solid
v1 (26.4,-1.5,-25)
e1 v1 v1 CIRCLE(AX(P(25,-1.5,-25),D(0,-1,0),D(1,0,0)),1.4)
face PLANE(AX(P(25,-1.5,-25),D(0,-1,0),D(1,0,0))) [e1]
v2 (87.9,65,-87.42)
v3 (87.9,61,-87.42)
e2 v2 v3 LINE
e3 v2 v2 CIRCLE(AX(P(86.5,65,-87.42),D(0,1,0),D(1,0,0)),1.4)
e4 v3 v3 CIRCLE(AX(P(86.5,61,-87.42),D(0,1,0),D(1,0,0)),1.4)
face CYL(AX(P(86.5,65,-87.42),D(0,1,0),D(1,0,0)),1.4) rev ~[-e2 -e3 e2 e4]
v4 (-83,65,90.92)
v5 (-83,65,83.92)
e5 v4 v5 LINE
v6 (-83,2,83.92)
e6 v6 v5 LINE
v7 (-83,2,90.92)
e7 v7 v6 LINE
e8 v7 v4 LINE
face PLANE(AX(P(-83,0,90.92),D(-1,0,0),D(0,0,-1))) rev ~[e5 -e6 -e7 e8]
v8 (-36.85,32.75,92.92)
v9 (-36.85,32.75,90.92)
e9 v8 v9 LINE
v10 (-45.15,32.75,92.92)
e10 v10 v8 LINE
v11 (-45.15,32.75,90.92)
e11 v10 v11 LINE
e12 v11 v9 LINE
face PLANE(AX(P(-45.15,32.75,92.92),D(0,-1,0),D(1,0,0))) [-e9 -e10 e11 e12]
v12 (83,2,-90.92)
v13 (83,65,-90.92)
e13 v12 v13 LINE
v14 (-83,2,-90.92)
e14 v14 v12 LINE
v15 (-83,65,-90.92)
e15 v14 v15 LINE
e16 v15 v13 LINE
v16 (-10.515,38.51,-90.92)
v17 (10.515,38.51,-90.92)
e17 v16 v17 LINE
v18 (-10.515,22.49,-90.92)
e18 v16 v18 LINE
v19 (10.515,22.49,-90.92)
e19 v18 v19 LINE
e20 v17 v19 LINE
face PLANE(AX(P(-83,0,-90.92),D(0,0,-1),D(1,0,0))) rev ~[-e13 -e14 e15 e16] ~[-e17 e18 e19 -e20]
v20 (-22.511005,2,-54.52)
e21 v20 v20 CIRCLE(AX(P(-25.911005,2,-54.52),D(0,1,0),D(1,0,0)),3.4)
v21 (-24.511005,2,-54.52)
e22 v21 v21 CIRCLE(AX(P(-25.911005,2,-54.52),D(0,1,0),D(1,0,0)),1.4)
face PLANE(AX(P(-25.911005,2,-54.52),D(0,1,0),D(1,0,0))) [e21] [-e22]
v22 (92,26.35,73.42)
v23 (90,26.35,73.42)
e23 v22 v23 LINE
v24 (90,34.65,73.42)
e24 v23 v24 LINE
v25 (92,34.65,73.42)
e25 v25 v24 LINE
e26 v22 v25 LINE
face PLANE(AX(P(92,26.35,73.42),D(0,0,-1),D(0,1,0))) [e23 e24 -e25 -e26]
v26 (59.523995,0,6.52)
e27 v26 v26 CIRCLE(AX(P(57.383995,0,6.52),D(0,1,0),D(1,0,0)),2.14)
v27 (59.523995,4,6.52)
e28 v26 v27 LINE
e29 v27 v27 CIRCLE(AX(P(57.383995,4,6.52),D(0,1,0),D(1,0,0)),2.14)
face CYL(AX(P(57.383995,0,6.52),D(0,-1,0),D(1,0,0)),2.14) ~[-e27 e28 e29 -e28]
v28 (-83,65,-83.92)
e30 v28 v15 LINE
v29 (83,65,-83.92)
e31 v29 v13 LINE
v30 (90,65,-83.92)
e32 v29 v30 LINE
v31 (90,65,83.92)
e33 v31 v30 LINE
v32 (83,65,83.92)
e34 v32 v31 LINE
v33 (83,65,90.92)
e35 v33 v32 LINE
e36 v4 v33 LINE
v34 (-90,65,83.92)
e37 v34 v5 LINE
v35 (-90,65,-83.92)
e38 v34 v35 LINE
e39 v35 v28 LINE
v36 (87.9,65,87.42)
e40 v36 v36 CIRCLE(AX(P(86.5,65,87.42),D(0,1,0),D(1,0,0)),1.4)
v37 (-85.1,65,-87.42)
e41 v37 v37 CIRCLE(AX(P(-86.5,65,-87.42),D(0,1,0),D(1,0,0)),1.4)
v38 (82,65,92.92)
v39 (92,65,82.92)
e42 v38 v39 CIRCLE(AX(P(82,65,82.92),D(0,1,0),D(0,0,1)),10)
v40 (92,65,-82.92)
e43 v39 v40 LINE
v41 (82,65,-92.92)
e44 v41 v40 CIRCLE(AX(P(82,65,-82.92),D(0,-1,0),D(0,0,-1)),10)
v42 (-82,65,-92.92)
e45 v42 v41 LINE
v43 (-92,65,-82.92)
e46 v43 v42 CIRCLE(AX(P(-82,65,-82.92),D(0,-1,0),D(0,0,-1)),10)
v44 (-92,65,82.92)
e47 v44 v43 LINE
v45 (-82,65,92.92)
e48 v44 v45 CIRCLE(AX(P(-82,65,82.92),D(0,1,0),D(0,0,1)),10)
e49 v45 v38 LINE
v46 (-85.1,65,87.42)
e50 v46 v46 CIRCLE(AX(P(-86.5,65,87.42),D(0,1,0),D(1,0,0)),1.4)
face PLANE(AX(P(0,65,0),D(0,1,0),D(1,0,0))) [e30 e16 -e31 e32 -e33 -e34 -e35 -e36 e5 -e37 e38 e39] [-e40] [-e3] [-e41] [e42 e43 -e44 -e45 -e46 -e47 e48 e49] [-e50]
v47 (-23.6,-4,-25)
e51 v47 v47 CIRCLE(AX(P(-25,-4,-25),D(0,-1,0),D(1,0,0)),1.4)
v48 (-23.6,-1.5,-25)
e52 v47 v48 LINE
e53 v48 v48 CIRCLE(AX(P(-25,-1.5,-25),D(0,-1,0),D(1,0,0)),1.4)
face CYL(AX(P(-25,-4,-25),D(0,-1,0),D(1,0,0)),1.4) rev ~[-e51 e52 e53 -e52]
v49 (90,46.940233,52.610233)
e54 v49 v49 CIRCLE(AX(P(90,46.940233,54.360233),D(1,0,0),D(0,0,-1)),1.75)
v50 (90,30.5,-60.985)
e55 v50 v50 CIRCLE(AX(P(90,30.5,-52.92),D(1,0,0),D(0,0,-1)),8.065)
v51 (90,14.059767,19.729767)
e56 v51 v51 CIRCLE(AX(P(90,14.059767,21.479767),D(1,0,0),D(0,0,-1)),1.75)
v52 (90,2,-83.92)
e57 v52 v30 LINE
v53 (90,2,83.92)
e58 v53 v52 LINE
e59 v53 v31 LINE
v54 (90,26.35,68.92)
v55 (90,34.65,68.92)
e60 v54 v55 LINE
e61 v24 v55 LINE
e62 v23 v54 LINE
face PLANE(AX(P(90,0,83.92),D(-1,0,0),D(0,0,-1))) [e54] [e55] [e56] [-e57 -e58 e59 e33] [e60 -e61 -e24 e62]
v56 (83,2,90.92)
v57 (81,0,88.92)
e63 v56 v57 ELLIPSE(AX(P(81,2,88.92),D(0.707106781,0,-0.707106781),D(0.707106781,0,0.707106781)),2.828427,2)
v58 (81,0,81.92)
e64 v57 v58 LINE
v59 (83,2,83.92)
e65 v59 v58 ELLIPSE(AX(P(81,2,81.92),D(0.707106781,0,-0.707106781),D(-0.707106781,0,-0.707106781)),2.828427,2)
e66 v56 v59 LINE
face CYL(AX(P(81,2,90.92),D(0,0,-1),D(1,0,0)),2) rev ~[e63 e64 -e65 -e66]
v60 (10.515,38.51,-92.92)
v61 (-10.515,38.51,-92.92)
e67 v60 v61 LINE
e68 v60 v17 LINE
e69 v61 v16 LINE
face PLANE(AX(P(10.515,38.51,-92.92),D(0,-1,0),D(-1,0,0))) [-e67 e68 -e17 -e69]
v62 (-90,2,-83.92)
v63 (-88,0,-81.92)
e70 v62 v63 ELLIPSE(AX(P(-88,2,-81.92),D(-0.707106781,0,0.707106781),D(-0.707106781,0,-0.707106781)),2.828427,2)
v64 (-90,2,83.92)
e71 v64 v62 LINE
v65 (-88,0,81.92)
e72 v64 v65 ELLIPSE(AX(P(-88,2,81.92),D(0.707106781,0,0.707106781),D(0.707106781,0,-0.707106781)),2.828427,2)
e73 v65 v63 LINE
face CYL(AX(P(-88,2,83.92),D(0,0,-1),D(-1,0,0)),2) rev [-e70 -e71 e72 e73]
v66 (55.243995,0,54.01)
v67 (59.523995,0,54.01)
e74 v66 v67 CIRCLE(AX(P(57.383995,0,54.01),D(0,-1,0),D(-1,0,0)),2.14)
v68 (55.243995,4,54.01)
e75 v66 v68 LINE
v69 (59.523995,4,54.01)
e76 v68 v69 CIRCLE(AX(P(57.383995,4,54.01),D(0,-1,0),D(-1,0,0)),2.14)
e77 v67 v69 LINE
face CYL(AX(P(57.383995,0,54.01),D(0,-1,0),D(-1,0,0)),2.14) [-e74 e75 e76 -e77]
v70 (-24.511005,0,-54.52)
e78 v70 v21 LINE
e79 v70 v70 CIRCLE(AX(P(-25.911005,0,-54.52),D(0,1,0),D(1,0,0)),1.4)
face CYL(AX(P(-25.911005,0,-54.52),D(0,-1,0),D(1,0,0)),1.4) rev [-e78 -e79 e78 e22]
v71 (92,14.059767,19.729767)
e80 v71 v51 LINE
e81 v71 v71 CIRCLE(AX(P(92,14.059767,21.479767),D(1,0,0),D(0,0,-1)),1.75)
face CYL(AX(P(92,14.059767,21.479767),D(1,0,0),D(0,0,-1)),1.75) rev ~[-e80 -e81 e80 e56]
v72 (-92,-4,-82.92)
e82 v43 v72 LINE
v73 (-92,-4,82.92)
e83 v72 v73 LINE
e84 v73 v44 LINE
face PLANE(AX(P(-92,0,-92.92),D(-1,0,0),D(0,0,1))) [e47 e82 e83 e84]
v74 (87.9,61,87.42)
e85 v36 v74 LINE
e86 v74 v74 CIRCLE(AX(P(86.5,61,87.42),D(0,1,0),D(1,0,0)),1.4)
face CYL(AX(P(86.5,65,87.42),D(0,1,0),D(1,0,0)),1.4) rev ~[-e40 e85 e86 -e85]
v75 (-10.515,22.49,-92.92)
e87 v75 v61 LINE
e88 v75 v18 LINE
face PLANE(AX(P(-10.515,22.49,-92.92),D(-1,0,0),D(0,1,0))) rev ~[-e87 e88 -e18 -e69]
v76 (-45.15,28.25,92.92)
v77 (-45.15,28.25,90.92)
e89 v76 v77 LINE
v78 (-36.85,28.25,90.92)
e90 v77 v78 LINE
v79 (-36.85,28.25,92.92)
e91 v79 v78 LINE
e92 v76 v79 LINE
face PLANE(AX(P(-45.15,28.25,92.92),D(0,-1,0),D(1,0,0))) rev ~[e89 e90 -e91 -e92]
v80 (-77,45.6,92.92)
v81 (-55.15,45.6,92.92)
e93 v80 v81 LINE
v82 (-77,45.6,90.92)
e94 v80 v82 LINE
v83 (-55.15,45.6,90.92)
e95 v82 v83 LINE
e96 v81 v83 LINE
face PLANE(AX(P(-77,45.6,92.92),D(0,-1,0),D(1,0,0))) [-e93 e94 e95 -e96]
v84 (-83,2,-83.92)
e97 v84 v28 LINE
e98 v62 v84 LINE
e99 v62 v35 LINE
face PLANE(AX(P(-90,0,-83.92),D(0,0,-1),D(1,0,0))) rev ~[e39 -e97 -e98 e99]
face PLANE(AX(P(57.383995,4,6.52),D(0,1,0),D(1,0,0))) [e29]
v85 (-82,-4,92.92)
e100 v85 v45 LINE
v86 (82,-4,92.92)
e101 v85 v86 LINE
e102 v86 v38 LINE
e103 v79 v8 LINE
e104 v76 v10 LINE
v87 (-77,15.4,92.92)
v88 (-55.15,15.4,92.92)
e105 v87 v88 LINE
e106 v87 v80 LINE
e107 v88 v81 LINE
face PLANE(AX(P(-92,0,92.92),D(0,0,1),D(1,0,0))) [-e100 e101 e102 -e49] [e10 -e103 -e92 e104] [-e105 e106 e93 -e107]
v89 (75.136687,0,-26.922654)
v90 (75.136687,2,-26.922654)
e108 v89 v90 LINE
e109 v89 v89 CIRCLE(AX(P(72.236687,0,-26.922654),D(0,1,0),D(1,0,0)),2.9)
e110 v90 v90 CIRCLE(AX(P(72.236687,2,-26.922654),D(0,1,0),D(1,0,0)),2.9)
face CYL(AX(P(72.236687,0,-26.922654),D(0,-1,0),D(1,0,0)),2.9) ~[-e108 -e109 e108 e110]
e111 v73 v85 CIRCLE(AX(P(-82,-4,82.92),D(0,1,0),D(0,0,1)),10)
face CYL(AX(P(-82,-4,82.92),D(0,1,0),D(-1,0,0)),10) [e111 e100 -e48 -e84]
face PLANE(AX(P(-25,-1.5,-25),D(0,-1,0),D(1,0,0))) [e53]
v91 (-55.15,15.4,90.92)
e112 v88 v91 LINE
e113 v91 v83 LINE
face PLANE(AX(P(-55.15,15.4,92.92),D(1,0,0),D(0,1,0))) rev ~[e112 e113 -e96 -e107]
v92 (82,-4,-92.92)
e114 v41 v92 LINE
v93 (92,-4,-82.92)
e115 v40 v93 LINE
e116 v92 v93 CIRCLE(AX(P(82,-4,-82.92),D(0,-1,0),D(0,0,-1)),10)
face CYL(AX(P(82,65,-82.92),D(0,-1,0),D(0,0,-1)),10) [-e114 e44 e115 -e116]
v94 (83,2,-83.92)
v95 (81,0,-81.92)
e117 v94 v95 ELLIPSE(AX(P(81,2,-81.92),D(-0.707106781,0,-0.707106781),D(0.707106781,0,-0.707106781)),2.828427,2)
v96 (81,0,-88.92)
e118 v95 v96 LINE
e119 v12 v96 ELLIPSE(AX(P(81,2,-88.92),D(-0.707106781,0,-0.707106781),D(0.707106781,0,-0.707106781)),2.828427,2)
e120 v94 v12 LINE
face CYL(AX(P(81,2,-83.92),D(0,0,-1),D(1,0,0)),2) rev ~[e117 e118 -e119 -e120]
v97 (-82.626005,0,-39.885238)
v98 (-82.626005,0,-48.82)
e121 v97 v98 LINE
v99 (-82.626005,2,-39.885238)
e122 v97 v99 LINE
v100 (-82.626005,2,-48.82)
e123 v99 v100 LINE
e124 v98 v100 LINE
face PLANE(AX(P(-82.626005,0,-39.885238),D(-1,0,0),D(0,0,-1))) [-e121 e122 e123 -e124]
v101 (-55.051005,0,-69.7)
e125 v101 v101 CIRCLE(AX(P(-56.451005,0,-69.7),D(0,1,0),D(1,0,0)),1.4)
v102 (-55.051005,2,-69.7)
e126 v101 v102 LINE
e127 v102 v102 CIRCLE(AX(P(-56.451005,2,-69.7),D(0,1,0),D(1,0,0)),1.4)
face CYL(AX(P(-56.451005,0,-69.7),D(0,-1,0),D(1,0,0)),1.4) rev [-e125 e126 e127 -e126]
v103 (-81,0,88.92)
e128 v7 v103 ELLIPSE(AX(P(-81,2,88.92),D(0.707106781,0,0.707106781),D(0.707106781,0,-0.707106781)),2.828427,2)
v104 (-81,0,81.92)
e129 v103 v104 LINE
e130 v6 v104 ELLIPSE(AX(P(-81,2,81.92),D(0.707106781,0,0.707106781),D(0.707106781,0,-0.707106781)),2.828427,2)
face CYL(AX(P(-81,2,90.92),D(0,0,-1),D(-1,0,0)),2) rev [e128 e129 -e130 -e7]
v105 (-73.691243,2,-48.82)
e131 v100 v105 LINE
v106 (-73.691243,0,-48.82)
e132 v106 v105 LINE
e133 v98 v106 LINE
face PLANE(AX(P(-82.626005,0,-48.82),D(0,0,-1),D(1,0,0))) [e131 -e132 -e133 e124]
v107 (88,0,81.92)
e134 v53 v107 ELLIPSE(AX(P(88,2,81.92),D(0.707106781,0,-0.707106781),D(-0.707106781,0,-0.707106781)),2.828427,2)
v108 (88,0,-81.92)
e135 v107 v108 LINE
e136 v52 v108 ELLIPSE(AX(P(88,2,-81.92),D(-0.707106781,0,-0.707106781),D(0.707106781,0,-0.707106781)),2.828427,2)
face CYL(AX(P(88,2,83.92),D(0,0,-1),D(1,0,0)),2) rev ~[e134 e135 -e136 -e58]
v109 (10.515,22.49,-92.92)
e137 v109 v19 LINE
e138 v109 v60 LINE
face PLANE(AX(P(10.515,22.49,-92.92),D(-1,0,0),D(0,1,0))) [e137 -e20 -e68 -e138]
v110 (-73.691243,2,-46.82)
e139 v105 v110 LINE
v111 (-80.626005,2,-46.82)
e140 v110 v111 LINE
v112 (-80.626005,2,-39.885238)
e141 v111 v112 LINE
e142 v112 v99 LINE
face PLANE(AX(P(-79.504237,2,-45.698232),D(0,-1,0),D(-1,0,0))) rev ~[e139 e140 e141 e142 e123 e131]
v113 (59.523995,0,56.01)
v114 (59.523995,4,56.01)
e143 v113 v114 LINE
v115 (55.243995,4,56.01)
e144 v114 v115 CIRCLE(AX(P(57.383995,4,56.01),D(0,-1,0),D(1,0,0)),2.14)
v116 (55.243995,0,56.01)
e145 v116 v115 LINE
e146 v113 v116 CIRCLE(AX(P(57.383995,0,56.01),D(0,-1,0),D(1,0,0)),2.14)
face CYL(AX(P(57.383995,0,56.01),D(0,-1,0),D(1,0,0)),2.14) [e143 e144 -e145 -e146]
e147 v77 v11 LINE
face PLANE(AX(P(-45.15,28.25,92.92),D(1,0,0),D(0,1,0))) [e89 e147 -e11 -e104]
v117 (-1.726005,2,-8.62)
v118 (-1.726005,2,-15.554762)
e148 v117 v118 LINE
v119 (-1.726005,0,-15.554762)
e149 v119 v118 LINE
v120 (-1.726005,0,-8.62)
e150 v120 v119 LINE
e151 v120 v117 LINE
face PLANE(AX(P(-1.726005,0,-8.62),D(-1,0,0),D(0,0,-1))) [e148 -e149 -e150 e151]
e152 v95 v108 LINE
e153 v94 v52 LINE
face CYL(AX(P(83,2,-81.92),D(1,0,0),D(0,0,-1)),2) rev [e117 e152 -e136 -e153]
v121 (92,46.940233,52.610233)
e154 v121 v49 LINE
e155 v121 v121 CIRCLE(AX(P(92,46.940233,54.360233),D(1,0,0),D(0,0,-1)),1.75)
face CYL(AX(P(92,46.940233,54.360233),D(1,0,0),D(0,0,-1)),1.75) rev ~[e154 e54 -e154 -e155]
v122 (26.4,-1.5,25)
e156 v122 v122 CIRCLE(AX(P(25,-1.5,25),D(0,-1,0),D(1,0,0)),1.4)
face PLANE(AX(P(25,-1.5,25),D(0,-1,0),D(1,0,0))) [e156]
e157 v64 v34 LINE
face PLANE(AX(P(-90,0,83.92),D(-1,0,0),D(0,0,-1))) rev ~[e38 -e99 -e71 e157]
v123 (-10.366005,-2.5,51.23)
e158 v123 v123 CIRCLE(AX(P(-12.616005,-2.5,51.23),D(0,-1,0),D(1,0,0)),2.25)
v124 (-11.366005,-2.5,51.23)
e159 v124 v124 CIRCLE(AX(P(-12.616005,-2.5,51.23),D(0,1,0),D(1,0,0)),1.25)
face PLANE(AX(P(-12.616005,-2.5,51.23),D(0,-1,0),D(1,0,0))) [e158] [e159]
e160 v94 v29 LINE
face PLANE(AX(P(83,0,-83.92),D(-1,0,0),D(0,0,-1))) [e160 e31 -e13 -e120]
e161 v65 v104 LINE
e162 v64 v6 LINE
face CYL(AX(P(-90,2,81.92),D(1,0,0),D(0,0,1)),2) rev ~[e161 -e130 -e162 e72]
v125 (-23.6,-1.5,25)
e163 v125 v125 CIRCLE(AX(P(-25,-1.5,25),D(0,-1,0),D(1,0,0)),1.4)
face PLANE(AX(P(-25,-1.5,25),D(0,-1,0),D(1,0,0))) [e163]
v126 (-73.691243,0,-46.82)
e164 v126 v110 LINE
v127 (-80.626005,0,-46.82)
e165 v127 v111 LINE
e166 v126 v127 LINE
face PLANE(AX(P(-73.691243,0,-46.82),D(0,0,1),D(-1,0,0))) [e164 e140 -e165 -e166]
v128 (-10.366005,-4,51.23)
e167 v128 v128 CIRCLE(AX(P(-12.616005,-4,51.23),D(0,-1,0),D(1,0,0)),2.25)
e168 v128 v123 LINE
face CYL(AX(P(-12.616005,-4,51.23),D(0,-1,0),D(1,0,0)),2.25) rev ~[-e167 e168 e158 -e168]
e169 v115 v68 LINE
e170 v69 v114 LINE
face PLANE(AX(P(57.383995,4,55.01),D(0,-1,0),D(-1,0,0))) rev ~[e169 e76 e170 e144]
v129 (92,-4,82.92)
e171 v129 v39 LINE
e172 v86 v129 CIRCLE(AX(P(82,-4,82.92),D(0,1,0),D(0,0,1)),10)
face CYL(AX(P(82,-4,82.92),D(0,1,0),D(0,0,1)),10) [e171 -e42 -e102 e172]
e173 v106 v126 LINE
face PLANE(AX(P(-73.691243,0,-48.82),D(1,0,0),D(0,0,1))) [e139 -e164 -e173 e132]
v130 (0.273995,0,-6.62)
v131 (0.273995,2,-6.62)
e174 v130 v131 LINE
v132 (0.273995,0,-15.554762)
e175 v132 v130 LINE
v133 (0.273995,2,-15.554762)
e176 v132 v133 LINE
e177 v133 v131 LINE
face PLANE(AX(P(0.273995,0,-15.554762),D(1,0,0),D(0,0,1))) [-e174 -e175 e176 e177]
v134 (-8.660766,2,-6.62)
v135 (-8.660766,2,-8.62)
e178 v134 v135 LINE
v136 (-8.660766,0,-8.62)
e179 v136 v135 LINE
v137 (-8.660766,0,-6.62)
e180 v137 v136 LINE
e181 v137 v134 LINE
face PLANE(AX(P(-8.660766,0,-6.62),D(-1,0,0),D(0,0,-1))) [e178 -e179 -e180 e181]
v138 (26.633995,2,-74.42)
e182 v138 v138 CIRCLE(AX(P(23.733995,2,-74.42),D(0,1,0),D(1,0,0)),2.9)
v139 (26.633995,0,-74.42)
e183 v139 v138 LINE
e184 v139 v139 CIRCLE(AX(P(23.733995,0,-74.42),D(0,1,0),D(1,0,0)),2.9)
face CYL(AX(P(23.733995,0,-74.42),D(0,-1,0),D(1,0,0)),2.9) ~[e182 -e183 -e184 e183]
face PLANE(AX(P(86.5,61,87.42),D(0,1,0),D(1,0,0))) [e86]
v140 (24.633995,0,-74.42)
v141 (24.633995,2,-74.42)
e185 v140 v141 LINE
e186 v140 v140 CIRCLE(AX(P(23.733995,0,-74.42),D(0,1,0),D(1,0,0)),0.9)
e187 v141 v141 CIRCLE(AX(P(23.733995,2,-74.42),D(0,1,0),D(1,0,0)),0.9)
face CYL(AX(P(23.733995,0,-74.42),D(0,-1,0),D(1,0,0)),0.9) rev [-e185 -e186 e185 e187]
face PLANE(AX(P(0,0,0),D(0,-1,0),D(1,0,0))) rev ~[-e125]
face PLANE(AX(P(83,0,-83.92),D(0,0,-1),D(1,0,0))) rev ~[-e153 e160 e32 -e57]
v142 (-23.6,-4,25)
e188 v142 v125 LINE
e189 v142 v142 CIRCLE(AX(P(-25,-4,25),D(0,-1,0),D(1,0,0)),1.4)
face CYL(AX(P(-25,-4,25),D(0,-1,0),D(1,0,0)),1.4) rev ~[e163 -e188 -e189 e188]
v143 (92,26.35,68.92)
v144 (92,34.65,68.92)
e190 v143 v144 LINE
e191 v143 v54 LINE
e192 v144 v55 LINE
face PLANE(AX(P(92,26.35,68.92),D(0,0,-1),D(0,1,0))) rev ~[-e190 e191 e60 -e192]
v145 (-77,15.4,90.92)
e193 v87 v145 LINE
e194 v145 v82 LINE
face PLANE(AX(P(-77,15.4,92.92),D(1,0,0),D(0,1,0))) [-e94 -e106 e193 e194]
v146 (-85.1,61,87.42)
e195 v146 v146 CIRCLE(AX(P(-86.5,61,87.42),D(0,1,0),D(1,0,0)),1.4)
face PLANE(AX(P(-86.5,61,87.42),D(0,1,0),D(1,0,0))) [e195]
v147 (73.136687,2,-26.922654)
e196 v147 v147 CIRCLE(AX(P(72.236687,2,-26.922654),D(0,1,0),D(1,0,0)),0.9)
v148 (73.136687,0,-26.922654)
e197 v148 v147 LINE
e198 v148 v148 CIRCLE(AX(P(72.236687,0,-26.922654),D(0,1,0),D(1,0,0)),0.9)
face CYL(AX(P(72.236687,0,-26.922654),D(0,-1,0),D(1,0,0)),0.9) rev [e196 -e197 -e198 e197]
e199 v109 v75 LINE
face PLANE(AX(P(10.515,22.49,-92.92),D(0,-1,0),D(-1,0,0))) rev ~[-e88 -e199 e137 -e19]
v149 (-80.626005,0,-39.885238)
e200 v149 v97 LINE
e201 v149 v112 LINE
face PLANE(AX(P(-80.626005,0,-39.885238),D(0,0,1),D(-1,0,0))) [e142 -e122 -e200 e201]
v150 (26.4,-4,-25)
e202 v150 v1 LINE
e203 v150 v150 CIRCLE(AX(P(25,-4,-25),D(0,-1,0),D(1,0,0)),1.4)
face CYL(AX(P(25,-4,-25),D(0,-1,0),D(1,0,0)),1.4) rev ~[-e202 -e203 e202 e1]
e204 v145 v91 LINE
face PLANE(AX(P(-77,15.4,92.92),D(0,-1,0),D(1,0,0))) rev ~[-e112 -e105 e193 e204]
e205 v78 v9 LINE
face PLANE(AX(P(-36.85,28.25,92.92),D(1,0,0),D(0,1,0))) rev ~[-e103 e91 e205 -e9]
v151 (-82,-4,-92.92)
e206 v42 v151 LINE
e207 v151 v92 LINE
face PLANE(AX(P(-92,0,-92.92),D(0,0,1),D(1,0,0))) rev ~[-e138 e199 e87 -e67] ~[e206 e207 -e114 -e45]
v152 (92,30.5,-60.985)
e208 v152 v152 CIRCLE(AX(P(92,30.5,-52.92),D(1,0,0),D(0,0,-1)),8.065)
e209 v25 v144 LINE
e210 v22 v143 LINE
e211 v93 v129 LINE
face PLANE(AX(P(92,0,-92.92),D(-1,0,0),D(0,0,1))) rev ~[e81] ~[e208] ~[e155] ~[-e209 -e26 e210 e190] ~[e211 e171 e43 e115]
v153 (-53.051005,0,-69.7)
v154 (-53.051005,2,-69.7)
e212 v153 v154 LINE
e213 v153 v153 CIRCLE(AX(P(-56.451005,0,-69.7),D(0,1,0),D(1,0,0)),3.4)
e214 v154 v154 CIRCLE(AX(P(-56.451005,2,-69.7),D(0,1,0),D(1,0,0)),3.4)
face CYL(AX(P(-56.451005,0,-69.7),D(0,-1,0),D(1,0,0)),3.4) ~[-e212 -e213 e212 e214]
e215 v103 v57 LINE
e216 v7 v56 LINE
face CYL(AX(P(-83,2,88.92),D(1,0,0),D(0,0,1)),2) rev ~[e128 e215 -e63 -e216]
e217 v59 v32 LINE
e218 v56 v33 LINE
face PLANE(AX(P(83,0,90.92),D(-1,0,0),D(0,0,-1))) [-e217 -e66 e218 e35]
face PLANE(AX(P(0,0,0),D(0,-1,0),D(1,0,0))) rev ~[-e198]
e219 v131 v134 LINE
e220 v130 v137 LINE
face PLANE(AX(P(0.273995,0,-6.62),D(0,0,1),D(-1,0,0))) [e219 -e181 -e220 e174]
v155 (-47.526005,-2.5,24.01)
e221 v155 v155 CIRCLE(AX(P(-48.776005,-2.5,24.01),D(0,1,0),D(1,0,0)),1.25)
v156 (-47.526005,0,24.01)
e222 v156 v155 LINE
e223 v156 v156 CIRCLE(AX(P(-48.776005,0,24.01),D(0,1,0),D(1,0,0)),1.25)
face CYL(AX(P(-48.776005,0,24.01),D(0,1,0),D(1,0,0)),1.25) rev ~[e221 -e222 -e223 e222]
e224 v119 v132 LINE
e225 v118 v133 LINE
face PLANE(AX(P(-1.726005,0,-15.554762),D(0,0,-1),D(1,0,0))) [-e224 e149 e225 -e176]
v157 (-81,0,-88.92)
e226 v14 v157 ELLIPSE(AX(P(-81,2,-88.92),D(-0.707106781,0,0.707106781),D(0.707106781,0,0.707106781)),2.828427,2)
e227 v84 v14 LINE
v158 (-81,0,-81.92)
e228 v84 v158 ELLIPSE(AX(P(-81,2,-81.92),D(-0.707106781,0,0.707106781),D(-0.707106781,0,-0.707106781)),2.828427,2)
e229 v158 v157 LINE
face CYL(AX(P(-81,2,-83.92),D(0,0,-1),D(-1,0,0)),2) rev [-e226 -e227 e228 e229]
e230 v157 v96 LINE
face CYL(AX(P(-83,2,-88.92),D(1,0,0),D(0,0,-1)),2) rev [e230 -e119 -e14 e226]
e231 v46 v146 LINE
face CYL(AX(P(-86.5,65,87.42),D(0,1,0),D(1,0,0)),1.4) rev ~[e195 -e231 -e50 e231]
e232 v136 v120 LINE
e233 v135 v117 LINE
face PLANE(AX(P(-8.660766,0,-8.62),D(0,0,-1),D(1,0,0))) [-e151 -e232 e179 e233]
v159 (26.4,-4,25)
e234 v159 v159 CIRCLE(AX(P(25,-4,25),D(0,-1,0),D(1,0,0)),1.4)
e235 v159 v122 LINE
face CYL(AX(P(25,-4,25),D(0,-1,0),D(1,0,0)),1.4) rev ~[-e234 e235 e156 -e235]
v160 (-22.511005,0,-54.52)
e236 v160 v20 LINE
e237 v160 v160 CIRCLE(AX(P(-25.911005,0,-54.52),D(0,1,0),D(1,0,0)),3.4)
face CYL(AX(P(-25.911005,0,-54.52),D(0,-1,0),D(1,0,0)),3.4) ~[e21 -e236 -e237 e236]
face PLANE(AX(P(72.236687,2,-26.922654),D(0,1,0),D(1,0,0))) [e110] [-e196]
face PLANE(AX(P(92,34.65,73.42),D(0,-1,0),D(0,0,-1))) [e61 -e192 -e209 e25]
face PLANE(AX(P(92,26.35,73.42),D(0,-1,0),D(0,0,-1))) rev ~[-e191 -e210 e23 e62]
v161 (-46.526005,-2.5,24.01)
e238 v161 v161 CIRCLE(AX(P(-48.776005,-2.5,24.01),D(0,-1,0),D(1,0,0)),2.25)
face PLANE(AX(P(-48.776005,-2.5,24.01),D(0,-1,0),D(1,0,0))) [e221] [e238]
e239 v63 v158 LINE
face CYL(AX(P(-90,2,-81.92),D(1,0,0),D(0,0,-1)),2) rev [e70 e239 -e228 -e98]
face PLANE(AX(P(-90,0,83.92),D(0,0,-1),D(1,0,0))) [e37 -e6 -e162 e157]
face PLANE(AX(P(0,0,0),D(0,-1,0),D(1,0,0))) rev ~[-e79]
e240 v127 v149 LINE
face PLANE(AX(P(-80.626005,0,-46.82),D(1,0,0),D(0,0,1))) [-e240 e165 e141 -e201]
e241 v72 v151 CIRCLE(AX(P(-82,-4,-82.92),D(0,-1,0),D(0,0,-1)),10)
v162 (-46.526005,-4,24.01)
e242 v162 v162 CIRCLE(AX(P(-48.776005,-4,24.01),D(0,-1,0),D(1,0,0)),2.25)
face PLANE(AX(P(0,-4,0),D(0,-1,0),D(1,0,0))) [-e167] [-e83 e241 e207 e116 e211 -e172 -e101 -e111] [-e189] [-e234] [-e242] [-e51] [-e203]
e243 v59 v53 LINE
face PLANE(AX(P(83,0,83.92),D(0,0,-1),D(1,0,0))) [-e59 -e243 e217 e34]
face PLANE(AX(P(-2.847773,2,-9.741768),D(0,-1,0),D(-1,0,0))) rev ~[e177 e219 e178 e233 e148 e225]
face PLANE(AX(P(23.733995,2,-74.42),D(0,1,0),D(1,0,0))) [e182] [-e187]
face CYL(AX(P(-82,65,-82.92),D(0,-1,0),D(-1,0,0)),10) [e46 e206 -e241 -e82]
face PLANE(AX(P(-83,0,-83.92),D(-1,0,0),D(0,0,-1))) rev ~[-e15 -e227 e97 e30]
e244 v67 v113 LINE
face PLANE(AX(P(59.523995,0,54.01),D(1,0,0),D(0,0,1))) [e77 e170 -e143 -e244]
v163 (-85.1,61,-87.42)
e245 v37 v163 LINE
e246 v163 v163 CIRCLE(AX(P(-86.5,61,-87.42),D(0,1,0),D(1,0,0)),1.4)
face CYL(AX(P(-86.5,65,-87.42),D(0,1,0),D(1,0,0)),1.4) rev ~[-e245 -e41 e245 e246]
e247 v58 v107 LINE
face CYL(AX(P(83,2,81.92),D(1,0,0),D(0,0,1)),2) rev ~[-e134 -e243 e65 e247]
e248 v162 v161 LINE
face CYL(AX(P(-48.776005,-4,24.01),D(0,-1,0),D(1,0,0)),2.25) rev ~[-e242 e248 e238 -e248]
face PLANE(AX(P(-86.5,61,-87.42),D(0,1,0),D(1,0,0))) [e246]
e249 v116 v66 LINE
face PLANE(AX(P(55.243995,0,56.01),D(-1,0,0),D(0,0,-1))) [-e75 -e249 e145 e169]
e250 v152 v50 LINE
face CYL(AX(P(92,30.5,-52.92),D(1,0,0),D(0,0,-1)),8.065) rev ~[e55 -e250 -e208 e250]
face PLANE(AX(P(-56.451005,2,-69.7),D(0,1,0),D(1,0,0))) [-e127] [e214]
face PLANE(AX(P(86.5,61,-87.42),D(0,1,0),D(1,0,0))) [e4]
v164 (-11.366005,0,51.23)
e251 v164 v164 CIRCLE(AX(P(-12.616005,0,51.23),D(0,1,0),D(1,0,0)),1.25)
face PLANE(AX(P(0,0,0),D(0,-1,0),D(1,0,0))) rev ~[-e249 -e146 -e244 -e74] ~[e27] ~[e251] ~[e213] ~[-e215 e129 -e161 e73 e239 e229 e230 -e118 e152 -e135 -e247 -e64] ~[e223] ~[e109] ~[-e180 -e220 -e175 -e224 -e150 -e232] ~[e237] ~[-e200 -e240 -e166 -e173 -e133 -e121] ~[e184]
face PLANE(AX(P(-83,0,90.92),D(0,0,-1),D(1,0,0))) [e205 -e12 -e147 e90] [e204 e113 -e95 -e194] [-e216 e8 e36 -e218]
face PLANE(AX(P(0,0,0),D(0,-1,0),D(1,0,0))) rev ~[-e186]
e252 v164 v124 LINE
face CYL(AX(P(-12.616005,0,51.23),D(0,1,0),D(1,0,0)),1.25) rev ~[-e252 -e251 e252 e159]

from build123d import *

# Parameters (mm, degrees)
SKETCH1_W           = 184
SKETCH1_H           = 185.84
BOSS_EXTRUDE1_DEPTH = 65
SKETCH2_W           = 184
SKETCH2_H           = 185.84
BOSS_EXTRUDE2_DEPTH = 4
CUT_EXTRUDE1_REACH  = 219.314
SKETCH3_W           = 21.03
SKETCH3_H           = 16.02
CUT_EXTRUDE4_REACH  = 218.137
SKETCH4_R           = 1.75
SKETCH4_R_2         = 8.065
SKETCH4_W           = 4.5
SKETCH4_H           = 8.3
CUT_EXTRUDE3_REACH  = 219.314
SKETCH6_W           = 8.3
SKETCH6_H           = 4.5
SKETCH6_W_2         = 21.85
SKETCH6_H_2         = 30.2
SKETCH8_R           = 3.4
SKETCH8_R_2         = 1.4
SKETCH8_R_3         = 2.9
SKETCH8_R_4         = 0.9
BOSS_EXTRUDE3_DEPTH = 2
SKETCH8_3_R         = 2.14
BOSS_EXTRUDE4_DEPTH = 4
CUT_EXTRUDE5_REACH  = 148.024
SKETCH8_4_R         = 1.25
SKETCH9_R           = 2.25
CUT_EXTRUDE6_DEPTH  = 1.5
SKETCH10_R          = 1.4
CUT_EXTRUDE7_DEPTH  = 4
FILLET1_R           = 10
FILLET2_R           = 2
SKETCH11_R          = 1.4
CUT_EXTRUDE8_DEPTH  = 2.5


with BuildPart() as part:
    # Sketch1 → Boss-Extrude1 (new body)
    with BuildSketch(Plane(origin=(0, 0, 0), x_dir=(1, 0, 0), z_dir=(0, 1, 0))):
        Rectangle(SKETCH1_W, SKETCH1_H)
        Polygon((-90, -83.92), (-90, 83.92), (-83, 83.92), (-83, 90.92), (83, 90.92), (83, 83.92), (90, 83.92), (90, -83.92), (83, -83.92), (83, -90.92), (-83, -90.92), (-83, -83.92), align=None, mode=Mode.SUBTRACT)
    extrude(amount=BOSS_EXTRUDE1_DEPTH)

    # Sketch2 → Boss-Extrude2 (add)
    with BuildSketch(Plane.XZ):
        Rectangle(SKETCH2_W, SKETCH2_H)
    extrude(amount=BOSS_EXTRUDE2_DEPTH)

    # Sketch3 → Cut-Extrude1 (cut, up to next)
    with BuildSketch(Plane(origin=(0, 0, -92.92), x_dir=(-1, 0, 0), z_dir=(0, 0, -1)), mode=Mode.PRIVATE) as cut_extrude1_sk1:
        with Locations((0, 30.5)):
            Rectangle(SKETCH3_W, SKETCH3_H)
    cut_extrude1_tool1 = extrude(cut_extrude1_sk1.sketch, amount=-CUT_EXTRUDE1_REACH, mode=Mode.PRIVATE) & part.part
    add(cut_extrude1_tool1.solids().sort_by_distance((0, 30.5, -92.92))[0], mode=Mode.SUBTRACT)

    # Sketch4 → Cut-Extrude4 (cut, up to next)
    with BuildSketch(Plane(origin=(92, 0, 0), x_dir=(0, 0, -1), z_dir=(1, 0, 0)), mode=Mode.PRIVATE) as cut_extrude4_sk1:
        with Locations((-54.360232663, 46.940232663)):
            Circle(SKETCH4_R)
    cut_extrude4_tool1 = extrude(cut_extrude4_sk1.sketch, amount=-CUT_EXTRUDE4_REACH, mode=Mode.PRIVATE) & part.part
    # Sketch4 → Cut-Extrude4 (cut, up to next)
    with BuildSketch(Plane(origin=(92, 0, 0), x_dir=(0, 0, -1), z_dir=(1, 0, 0)), mode=Mode.PRIVATE) as cut_extrude4_sk2:
        with Locations((-21.479767337, 14.059767337)):
            Circle(SKETCH4_R)
    cut_extrude4_tool2 = extrude(cut_extrude4_sk2.sketch, amount=-CUT_EXTRUDE4_REACH, mode=Mode.PRIVATE) & part.part
    # Sketch4 → Cut-Extrude4 (cut, up to next)
    with BuildSketch(Plane(origin=(92, 0, 0), x_dir=(0, 0, -1), z_dir=(1, 0, 0)), mode=Mode.PRIVATE) as cut_extrude4_sk3:
        with Locations((52.92, 30.5)):
            Circle(SKETCH4_R_2)
    cut_extrude4_tool3 = extrude(cut_extrude4_sk3.sketch, amount=-CUT_EXTRUDE4_REACH, mode=Mode.PRIVATE) & part.part
    # Sketch4 → Cut-Extrude4 (cut, up to next)
    with BuildSketch(Plane(origin=(92, 0, 0), x_dir=(0, 0, -1), z_dir=(1, 0, 0)), mode=Mode.PRIVATE) as cut_extrude4_sk4:
        with Locations((-71.17, 30.5)):
            Rectangle(SKETCH4_W, SKETCH4_H)
    cut_extrude4_tool4 = extrude(cut_extrude4_sk4.sketch, amount=-CUT_EXTRUDE4_REACH, mode=Mode.PRIVATE) & part.part
    add(cut_extrude4_tool1.solids().sort_by_distance((92, 46.940233, 54.360233))[0], mode=Mode.SUBTRACT)
    add(cut_extrude4_tool2.solids().sort_by_distance((92, 14.059767, 21.479767))[0], mode=Mode.SUBTRACT)
    add(cut_extrude4_tool3.solids().sort_by_distance((92, 30.5, -52.92))[0], mode=Mode.SUBTRACT)
    add(cut_extrude4_tool4.solids().sort_by_distance((92, 30.5, 71.17))[0], mode=Mode.SUBTRACT)

    # Sketch6 → Cut-Extrude3 (cut, up to next)
    with BuildSketch(Plane.XY.offset(92.92), mode=Mode.PRIVATE) as cut_extrude3_sk1:
        with Locations((-41, 30.5)):
            Rectangle(SKETCH6_W, SKETCH6_H)
    cut_extrude3_tool1 = extrude(cut_extrude3_sk1.sketch, amount=-CUT_EXTRUDE3_REACH, mode=Mode.PRIVATE) & part.part
    # Sketch6 → Cut-Extrude3 (cut, up to next)
    with BuildSketch(Plane.XY.offset(92.92), mode=Mode.PRIVATE) as cut_extrude3_sk2:
        with Locations((-66.075, 30.5)):
            Rectangle(SKETCH6_W_2, SKETCH6_H_2)
    cut_extrude3_tool2 = extrude(cut_extrude3_sk2.sketch, amount=-CUT_EXTRUDE3_REACH, mode=Mode.PRIVATE) & part.part
    add(cut_extrude3_tool1.solids().sort_by_distance((-41, 30.5, 92.92))[0], mode=Mode.SUBTRACT)
    add(cut_extrude3_tool2.solids().sort_by_distance((-66.075, 30.5, 92.92))[0], mode=Mode.SUBTRACT)

    # Sketch8 → Boss-Extrude3 (add)
    # profile 1 of 6: a face of its own
    with BuildSketch(Plane(origin=(0, 0, 0), x_dir=(1, 0, 0), z_dir=(0, 1, 0))):
        Polygon((0.273995155, 15.554761635), (-1.726004845, 15.554761635), (-1.726004845, 8.62), (-8.660766481, 8.62), (-8.660766481, 6.62), (0.273995155, 6.62), align=None)
    # profile 2 of 6: a face of its own
    with BuildSketch(Plane(origin=(0, 0, 0), x_dir=(1, 0, 0), z_dir=(0, 1, 0))):
        Polygon((-73.69124321, 46.82), (-73.69124321, 48.82), (-82.626004845, 48.82), (-82.626004845, 39.885238365), (-80.626004845, 39.885238365), (-80.626004845, 46.82), align=None)
    # profile 3 of 6: a face of its own
    with BuildSketch(Plane(origin=(0, 0, 0), x_dir=(1, 0, 0), z_dir=(0, 1, 0))):
        with Locations((-56.451004845, 69.7)):
            Circle(SKETCH8_R)
        with Locations((-56.451004845, 69.7)):
            Circle(SKETCH8_R_2, mode=Mode.SUBTRACT)
    # profile 4 of 6: a face of its own
    with BuildSketch(Plane(origin=(0, 0, 0), x_dir=(1, 0, 0), z_dir=(0, 1, 0))):
        with Locations((-25.911004845, 54.52)):
            Circle(SKETCH8_R)
        with Locations((-25.911004845, 54.52)):
            Circle(SKETCH8_R_2, mode=Mode.SUBTRACT)
    # profile 5 of 6: a face of its own
    with BuildSketch(Plane(origin=(0, 0, 0), x_dir=(1, 0, 0), z_dir=(0, 1, 0))):
        with Locations((23.733995155, 74.42)):
            Circle(SKETCH8_R_3)
        with Locations((23.733995155, 74.42)):
            Circle(SKETCH8_R_4, mode=Mode.SUBTRACT)
    # profile 6 of 6: a face of its own
    with BuildSketch(Plane(origin=(0, 0, 0), x_dir=(1, 0, 0), z_dir=(0, 1, 0))):
        with Locations((72.236687484, 26.922654466)):
            Circle(SKETCH8_R_3)
        with Locations((72.236687484, 26.922654466)):
            Circle(SKETCH8_R_4, mode=Mode.SUBTRACT)
    extrude(amount=BOSS_EXTRUDE3_DEPTH)

    # Sketch8<3> → Boss-Extrude4 (add)
    with BuildSketch(Plane(origin=(0, 0, 0), x_dir=(1, 0, 0), z_dir=(0, 1, 0))):
        with BuildLine():
            ThreePointArc((59.523995155, -54.01), (57.383995155, -51.87), (55.243995155, -54.01))
            Line((55.243995155, -54.01), (55.243995155, -56.01))
            ThreePointArc((55.243995155, -56.01), (57.383995155, -58.15), (59.523995155, -56.01))
            Line((59.523995155, -56.01), (59.523995155, -54.01))
        make_face()
        with Locations((57.383995155, -6.52)):
            Circle(SKETCH8_3_R)
    extrude(amount=BOSS_EXTRUDE4_DEPTH)

    # Sketch8<4> → Cut-Extrude5 (cut, up to next)
    with BuildSketch(Plane(origin=(0, 0, 0), x_dir=(1, 0, 0), z_dir=(0, 1, 0)), mode=Mode.PRIVATE) as cut_extrude5_sk1:
        with Locations((-12.616004845, -51.23)):
            Circle(SKETCH8_4_R)
    cut_extrude5_tool1 = extrude(cut_extrude5_sk1.sketch, amount=-CUT_EXTRUDE5_REACH, mode=Mode.PRIVATE) & part.part
    # Sketch8<4> → Cut-Extrude5 (cut, up to next)
    with BuildSketch(Plane(origin=(0, 0, 0), x_dir=(1, 0, 0), z_dir=(0, 1, 0)), mode=Mode.PRIVATE) as cut_extrude5_sk2:
        with Locations((-48.776004845, -24.01)):
            Circle(SKETCH8_4_R)
    cut_extrude5_tool2 = extrude(cut_extrude5_sk2.sketch, amount=-CUT_EXTRUDE5_REACH, mode=Mode.PRIVATE) & part.part
    add(cut_extrude5_tool1.solids().sort_by_distance((-12.616005, 0, 51.23))[0], mode=Mode.SUBTRACT)
    add(cut_extrude5_tool2.solids().sort_by_distance((-48.776005, 0, 24.01))[0], mode=Mode.SUBTRACT)

    # Sketch9 → Cut-Extrude6 (cut)
    with BuildSketch(Plane.XZ.offset(4)):
        with Locations((-12.616004845, 51.23)):
            Circle(SKETCH9_R)
        with Locations((-48.776004845, 24.01)):
            Circle(SKETCH9_R)
    extrude(amount=-CUT_EXTRUDE6_DEPTH, mode=Mode.SUBTRACT)

    # Sketch10 → Cut-Extrude7 (cut)
    with BuildSketch(Plane(origin=(0, 65, 0), x_dir=(1, 0, 0), z_dir=(0, 1, 0))):
        with Locations((-86.5, 87.42)):
            Circle(SKETCH10_R)
        with Locations((86.5, 87.42)):
            Circle(SKETCH10_R)
        with Locations((86.5, -87.42)):
            Circle(SKETCH10_R)
        with Locations((-86.5, -87.42)):
            Circle(SKETCH10_R)
    extrude(amount=-CUT_EXTRUDE7_DEPTH, mode=Mode.SUBTRACT)

    # Fillet1
    fillet1_edges = [part.edges().sort_by_distance(p)[0] for p in [
        (92, 30.5, 92.92),
        (-92, 30.5, -92.92),
        (92, 30.5, -92.92),
        (-92, 30.5, 92.92),
    ]]
    fillet(fillet1_edges, radius=FILLET1_R)

    # Fillet2
    fillet2_edges = [part.edges().sort_by_distance(p)[0] for p in [
        (86.5, 0, 83.92),
        (83, 0, 87.42),
        (83, 0, -87.42),
        (86.5, 0, -83.92),
        (-83, 0, -87.42),
        (-86.5, 0, -83.92),
        (-83, 0, 87.42),
        (-86.5, 0, 83.92),
        (0, 0, 90.92),
        (90, 0, 0),
        (0, 0, -90.92),
        (-90, 0, 0),
    ]]
    fillet(fillet2_edges, radius=FILLET2_R)

    # Sketch11 → Cut-Extrude8 (cut)
    with BuildSketch(Plane.XZ.offset(4)):
        with Locations((25, -25)):
            Circle(SKETCH11_R)
        with Locations((-25, -25)):
            Circle(SKETCH11_R)
        with Locations((25, 25)):
            Circle(SKETCH11_R)
        with Locations((-25, 25)):
            Circle(SKETCH11_R)
    extrude(amount=-CUT_EXTRUDE8_DEPTH, mode=Mode.SUBTRACT)


solid = part.part
